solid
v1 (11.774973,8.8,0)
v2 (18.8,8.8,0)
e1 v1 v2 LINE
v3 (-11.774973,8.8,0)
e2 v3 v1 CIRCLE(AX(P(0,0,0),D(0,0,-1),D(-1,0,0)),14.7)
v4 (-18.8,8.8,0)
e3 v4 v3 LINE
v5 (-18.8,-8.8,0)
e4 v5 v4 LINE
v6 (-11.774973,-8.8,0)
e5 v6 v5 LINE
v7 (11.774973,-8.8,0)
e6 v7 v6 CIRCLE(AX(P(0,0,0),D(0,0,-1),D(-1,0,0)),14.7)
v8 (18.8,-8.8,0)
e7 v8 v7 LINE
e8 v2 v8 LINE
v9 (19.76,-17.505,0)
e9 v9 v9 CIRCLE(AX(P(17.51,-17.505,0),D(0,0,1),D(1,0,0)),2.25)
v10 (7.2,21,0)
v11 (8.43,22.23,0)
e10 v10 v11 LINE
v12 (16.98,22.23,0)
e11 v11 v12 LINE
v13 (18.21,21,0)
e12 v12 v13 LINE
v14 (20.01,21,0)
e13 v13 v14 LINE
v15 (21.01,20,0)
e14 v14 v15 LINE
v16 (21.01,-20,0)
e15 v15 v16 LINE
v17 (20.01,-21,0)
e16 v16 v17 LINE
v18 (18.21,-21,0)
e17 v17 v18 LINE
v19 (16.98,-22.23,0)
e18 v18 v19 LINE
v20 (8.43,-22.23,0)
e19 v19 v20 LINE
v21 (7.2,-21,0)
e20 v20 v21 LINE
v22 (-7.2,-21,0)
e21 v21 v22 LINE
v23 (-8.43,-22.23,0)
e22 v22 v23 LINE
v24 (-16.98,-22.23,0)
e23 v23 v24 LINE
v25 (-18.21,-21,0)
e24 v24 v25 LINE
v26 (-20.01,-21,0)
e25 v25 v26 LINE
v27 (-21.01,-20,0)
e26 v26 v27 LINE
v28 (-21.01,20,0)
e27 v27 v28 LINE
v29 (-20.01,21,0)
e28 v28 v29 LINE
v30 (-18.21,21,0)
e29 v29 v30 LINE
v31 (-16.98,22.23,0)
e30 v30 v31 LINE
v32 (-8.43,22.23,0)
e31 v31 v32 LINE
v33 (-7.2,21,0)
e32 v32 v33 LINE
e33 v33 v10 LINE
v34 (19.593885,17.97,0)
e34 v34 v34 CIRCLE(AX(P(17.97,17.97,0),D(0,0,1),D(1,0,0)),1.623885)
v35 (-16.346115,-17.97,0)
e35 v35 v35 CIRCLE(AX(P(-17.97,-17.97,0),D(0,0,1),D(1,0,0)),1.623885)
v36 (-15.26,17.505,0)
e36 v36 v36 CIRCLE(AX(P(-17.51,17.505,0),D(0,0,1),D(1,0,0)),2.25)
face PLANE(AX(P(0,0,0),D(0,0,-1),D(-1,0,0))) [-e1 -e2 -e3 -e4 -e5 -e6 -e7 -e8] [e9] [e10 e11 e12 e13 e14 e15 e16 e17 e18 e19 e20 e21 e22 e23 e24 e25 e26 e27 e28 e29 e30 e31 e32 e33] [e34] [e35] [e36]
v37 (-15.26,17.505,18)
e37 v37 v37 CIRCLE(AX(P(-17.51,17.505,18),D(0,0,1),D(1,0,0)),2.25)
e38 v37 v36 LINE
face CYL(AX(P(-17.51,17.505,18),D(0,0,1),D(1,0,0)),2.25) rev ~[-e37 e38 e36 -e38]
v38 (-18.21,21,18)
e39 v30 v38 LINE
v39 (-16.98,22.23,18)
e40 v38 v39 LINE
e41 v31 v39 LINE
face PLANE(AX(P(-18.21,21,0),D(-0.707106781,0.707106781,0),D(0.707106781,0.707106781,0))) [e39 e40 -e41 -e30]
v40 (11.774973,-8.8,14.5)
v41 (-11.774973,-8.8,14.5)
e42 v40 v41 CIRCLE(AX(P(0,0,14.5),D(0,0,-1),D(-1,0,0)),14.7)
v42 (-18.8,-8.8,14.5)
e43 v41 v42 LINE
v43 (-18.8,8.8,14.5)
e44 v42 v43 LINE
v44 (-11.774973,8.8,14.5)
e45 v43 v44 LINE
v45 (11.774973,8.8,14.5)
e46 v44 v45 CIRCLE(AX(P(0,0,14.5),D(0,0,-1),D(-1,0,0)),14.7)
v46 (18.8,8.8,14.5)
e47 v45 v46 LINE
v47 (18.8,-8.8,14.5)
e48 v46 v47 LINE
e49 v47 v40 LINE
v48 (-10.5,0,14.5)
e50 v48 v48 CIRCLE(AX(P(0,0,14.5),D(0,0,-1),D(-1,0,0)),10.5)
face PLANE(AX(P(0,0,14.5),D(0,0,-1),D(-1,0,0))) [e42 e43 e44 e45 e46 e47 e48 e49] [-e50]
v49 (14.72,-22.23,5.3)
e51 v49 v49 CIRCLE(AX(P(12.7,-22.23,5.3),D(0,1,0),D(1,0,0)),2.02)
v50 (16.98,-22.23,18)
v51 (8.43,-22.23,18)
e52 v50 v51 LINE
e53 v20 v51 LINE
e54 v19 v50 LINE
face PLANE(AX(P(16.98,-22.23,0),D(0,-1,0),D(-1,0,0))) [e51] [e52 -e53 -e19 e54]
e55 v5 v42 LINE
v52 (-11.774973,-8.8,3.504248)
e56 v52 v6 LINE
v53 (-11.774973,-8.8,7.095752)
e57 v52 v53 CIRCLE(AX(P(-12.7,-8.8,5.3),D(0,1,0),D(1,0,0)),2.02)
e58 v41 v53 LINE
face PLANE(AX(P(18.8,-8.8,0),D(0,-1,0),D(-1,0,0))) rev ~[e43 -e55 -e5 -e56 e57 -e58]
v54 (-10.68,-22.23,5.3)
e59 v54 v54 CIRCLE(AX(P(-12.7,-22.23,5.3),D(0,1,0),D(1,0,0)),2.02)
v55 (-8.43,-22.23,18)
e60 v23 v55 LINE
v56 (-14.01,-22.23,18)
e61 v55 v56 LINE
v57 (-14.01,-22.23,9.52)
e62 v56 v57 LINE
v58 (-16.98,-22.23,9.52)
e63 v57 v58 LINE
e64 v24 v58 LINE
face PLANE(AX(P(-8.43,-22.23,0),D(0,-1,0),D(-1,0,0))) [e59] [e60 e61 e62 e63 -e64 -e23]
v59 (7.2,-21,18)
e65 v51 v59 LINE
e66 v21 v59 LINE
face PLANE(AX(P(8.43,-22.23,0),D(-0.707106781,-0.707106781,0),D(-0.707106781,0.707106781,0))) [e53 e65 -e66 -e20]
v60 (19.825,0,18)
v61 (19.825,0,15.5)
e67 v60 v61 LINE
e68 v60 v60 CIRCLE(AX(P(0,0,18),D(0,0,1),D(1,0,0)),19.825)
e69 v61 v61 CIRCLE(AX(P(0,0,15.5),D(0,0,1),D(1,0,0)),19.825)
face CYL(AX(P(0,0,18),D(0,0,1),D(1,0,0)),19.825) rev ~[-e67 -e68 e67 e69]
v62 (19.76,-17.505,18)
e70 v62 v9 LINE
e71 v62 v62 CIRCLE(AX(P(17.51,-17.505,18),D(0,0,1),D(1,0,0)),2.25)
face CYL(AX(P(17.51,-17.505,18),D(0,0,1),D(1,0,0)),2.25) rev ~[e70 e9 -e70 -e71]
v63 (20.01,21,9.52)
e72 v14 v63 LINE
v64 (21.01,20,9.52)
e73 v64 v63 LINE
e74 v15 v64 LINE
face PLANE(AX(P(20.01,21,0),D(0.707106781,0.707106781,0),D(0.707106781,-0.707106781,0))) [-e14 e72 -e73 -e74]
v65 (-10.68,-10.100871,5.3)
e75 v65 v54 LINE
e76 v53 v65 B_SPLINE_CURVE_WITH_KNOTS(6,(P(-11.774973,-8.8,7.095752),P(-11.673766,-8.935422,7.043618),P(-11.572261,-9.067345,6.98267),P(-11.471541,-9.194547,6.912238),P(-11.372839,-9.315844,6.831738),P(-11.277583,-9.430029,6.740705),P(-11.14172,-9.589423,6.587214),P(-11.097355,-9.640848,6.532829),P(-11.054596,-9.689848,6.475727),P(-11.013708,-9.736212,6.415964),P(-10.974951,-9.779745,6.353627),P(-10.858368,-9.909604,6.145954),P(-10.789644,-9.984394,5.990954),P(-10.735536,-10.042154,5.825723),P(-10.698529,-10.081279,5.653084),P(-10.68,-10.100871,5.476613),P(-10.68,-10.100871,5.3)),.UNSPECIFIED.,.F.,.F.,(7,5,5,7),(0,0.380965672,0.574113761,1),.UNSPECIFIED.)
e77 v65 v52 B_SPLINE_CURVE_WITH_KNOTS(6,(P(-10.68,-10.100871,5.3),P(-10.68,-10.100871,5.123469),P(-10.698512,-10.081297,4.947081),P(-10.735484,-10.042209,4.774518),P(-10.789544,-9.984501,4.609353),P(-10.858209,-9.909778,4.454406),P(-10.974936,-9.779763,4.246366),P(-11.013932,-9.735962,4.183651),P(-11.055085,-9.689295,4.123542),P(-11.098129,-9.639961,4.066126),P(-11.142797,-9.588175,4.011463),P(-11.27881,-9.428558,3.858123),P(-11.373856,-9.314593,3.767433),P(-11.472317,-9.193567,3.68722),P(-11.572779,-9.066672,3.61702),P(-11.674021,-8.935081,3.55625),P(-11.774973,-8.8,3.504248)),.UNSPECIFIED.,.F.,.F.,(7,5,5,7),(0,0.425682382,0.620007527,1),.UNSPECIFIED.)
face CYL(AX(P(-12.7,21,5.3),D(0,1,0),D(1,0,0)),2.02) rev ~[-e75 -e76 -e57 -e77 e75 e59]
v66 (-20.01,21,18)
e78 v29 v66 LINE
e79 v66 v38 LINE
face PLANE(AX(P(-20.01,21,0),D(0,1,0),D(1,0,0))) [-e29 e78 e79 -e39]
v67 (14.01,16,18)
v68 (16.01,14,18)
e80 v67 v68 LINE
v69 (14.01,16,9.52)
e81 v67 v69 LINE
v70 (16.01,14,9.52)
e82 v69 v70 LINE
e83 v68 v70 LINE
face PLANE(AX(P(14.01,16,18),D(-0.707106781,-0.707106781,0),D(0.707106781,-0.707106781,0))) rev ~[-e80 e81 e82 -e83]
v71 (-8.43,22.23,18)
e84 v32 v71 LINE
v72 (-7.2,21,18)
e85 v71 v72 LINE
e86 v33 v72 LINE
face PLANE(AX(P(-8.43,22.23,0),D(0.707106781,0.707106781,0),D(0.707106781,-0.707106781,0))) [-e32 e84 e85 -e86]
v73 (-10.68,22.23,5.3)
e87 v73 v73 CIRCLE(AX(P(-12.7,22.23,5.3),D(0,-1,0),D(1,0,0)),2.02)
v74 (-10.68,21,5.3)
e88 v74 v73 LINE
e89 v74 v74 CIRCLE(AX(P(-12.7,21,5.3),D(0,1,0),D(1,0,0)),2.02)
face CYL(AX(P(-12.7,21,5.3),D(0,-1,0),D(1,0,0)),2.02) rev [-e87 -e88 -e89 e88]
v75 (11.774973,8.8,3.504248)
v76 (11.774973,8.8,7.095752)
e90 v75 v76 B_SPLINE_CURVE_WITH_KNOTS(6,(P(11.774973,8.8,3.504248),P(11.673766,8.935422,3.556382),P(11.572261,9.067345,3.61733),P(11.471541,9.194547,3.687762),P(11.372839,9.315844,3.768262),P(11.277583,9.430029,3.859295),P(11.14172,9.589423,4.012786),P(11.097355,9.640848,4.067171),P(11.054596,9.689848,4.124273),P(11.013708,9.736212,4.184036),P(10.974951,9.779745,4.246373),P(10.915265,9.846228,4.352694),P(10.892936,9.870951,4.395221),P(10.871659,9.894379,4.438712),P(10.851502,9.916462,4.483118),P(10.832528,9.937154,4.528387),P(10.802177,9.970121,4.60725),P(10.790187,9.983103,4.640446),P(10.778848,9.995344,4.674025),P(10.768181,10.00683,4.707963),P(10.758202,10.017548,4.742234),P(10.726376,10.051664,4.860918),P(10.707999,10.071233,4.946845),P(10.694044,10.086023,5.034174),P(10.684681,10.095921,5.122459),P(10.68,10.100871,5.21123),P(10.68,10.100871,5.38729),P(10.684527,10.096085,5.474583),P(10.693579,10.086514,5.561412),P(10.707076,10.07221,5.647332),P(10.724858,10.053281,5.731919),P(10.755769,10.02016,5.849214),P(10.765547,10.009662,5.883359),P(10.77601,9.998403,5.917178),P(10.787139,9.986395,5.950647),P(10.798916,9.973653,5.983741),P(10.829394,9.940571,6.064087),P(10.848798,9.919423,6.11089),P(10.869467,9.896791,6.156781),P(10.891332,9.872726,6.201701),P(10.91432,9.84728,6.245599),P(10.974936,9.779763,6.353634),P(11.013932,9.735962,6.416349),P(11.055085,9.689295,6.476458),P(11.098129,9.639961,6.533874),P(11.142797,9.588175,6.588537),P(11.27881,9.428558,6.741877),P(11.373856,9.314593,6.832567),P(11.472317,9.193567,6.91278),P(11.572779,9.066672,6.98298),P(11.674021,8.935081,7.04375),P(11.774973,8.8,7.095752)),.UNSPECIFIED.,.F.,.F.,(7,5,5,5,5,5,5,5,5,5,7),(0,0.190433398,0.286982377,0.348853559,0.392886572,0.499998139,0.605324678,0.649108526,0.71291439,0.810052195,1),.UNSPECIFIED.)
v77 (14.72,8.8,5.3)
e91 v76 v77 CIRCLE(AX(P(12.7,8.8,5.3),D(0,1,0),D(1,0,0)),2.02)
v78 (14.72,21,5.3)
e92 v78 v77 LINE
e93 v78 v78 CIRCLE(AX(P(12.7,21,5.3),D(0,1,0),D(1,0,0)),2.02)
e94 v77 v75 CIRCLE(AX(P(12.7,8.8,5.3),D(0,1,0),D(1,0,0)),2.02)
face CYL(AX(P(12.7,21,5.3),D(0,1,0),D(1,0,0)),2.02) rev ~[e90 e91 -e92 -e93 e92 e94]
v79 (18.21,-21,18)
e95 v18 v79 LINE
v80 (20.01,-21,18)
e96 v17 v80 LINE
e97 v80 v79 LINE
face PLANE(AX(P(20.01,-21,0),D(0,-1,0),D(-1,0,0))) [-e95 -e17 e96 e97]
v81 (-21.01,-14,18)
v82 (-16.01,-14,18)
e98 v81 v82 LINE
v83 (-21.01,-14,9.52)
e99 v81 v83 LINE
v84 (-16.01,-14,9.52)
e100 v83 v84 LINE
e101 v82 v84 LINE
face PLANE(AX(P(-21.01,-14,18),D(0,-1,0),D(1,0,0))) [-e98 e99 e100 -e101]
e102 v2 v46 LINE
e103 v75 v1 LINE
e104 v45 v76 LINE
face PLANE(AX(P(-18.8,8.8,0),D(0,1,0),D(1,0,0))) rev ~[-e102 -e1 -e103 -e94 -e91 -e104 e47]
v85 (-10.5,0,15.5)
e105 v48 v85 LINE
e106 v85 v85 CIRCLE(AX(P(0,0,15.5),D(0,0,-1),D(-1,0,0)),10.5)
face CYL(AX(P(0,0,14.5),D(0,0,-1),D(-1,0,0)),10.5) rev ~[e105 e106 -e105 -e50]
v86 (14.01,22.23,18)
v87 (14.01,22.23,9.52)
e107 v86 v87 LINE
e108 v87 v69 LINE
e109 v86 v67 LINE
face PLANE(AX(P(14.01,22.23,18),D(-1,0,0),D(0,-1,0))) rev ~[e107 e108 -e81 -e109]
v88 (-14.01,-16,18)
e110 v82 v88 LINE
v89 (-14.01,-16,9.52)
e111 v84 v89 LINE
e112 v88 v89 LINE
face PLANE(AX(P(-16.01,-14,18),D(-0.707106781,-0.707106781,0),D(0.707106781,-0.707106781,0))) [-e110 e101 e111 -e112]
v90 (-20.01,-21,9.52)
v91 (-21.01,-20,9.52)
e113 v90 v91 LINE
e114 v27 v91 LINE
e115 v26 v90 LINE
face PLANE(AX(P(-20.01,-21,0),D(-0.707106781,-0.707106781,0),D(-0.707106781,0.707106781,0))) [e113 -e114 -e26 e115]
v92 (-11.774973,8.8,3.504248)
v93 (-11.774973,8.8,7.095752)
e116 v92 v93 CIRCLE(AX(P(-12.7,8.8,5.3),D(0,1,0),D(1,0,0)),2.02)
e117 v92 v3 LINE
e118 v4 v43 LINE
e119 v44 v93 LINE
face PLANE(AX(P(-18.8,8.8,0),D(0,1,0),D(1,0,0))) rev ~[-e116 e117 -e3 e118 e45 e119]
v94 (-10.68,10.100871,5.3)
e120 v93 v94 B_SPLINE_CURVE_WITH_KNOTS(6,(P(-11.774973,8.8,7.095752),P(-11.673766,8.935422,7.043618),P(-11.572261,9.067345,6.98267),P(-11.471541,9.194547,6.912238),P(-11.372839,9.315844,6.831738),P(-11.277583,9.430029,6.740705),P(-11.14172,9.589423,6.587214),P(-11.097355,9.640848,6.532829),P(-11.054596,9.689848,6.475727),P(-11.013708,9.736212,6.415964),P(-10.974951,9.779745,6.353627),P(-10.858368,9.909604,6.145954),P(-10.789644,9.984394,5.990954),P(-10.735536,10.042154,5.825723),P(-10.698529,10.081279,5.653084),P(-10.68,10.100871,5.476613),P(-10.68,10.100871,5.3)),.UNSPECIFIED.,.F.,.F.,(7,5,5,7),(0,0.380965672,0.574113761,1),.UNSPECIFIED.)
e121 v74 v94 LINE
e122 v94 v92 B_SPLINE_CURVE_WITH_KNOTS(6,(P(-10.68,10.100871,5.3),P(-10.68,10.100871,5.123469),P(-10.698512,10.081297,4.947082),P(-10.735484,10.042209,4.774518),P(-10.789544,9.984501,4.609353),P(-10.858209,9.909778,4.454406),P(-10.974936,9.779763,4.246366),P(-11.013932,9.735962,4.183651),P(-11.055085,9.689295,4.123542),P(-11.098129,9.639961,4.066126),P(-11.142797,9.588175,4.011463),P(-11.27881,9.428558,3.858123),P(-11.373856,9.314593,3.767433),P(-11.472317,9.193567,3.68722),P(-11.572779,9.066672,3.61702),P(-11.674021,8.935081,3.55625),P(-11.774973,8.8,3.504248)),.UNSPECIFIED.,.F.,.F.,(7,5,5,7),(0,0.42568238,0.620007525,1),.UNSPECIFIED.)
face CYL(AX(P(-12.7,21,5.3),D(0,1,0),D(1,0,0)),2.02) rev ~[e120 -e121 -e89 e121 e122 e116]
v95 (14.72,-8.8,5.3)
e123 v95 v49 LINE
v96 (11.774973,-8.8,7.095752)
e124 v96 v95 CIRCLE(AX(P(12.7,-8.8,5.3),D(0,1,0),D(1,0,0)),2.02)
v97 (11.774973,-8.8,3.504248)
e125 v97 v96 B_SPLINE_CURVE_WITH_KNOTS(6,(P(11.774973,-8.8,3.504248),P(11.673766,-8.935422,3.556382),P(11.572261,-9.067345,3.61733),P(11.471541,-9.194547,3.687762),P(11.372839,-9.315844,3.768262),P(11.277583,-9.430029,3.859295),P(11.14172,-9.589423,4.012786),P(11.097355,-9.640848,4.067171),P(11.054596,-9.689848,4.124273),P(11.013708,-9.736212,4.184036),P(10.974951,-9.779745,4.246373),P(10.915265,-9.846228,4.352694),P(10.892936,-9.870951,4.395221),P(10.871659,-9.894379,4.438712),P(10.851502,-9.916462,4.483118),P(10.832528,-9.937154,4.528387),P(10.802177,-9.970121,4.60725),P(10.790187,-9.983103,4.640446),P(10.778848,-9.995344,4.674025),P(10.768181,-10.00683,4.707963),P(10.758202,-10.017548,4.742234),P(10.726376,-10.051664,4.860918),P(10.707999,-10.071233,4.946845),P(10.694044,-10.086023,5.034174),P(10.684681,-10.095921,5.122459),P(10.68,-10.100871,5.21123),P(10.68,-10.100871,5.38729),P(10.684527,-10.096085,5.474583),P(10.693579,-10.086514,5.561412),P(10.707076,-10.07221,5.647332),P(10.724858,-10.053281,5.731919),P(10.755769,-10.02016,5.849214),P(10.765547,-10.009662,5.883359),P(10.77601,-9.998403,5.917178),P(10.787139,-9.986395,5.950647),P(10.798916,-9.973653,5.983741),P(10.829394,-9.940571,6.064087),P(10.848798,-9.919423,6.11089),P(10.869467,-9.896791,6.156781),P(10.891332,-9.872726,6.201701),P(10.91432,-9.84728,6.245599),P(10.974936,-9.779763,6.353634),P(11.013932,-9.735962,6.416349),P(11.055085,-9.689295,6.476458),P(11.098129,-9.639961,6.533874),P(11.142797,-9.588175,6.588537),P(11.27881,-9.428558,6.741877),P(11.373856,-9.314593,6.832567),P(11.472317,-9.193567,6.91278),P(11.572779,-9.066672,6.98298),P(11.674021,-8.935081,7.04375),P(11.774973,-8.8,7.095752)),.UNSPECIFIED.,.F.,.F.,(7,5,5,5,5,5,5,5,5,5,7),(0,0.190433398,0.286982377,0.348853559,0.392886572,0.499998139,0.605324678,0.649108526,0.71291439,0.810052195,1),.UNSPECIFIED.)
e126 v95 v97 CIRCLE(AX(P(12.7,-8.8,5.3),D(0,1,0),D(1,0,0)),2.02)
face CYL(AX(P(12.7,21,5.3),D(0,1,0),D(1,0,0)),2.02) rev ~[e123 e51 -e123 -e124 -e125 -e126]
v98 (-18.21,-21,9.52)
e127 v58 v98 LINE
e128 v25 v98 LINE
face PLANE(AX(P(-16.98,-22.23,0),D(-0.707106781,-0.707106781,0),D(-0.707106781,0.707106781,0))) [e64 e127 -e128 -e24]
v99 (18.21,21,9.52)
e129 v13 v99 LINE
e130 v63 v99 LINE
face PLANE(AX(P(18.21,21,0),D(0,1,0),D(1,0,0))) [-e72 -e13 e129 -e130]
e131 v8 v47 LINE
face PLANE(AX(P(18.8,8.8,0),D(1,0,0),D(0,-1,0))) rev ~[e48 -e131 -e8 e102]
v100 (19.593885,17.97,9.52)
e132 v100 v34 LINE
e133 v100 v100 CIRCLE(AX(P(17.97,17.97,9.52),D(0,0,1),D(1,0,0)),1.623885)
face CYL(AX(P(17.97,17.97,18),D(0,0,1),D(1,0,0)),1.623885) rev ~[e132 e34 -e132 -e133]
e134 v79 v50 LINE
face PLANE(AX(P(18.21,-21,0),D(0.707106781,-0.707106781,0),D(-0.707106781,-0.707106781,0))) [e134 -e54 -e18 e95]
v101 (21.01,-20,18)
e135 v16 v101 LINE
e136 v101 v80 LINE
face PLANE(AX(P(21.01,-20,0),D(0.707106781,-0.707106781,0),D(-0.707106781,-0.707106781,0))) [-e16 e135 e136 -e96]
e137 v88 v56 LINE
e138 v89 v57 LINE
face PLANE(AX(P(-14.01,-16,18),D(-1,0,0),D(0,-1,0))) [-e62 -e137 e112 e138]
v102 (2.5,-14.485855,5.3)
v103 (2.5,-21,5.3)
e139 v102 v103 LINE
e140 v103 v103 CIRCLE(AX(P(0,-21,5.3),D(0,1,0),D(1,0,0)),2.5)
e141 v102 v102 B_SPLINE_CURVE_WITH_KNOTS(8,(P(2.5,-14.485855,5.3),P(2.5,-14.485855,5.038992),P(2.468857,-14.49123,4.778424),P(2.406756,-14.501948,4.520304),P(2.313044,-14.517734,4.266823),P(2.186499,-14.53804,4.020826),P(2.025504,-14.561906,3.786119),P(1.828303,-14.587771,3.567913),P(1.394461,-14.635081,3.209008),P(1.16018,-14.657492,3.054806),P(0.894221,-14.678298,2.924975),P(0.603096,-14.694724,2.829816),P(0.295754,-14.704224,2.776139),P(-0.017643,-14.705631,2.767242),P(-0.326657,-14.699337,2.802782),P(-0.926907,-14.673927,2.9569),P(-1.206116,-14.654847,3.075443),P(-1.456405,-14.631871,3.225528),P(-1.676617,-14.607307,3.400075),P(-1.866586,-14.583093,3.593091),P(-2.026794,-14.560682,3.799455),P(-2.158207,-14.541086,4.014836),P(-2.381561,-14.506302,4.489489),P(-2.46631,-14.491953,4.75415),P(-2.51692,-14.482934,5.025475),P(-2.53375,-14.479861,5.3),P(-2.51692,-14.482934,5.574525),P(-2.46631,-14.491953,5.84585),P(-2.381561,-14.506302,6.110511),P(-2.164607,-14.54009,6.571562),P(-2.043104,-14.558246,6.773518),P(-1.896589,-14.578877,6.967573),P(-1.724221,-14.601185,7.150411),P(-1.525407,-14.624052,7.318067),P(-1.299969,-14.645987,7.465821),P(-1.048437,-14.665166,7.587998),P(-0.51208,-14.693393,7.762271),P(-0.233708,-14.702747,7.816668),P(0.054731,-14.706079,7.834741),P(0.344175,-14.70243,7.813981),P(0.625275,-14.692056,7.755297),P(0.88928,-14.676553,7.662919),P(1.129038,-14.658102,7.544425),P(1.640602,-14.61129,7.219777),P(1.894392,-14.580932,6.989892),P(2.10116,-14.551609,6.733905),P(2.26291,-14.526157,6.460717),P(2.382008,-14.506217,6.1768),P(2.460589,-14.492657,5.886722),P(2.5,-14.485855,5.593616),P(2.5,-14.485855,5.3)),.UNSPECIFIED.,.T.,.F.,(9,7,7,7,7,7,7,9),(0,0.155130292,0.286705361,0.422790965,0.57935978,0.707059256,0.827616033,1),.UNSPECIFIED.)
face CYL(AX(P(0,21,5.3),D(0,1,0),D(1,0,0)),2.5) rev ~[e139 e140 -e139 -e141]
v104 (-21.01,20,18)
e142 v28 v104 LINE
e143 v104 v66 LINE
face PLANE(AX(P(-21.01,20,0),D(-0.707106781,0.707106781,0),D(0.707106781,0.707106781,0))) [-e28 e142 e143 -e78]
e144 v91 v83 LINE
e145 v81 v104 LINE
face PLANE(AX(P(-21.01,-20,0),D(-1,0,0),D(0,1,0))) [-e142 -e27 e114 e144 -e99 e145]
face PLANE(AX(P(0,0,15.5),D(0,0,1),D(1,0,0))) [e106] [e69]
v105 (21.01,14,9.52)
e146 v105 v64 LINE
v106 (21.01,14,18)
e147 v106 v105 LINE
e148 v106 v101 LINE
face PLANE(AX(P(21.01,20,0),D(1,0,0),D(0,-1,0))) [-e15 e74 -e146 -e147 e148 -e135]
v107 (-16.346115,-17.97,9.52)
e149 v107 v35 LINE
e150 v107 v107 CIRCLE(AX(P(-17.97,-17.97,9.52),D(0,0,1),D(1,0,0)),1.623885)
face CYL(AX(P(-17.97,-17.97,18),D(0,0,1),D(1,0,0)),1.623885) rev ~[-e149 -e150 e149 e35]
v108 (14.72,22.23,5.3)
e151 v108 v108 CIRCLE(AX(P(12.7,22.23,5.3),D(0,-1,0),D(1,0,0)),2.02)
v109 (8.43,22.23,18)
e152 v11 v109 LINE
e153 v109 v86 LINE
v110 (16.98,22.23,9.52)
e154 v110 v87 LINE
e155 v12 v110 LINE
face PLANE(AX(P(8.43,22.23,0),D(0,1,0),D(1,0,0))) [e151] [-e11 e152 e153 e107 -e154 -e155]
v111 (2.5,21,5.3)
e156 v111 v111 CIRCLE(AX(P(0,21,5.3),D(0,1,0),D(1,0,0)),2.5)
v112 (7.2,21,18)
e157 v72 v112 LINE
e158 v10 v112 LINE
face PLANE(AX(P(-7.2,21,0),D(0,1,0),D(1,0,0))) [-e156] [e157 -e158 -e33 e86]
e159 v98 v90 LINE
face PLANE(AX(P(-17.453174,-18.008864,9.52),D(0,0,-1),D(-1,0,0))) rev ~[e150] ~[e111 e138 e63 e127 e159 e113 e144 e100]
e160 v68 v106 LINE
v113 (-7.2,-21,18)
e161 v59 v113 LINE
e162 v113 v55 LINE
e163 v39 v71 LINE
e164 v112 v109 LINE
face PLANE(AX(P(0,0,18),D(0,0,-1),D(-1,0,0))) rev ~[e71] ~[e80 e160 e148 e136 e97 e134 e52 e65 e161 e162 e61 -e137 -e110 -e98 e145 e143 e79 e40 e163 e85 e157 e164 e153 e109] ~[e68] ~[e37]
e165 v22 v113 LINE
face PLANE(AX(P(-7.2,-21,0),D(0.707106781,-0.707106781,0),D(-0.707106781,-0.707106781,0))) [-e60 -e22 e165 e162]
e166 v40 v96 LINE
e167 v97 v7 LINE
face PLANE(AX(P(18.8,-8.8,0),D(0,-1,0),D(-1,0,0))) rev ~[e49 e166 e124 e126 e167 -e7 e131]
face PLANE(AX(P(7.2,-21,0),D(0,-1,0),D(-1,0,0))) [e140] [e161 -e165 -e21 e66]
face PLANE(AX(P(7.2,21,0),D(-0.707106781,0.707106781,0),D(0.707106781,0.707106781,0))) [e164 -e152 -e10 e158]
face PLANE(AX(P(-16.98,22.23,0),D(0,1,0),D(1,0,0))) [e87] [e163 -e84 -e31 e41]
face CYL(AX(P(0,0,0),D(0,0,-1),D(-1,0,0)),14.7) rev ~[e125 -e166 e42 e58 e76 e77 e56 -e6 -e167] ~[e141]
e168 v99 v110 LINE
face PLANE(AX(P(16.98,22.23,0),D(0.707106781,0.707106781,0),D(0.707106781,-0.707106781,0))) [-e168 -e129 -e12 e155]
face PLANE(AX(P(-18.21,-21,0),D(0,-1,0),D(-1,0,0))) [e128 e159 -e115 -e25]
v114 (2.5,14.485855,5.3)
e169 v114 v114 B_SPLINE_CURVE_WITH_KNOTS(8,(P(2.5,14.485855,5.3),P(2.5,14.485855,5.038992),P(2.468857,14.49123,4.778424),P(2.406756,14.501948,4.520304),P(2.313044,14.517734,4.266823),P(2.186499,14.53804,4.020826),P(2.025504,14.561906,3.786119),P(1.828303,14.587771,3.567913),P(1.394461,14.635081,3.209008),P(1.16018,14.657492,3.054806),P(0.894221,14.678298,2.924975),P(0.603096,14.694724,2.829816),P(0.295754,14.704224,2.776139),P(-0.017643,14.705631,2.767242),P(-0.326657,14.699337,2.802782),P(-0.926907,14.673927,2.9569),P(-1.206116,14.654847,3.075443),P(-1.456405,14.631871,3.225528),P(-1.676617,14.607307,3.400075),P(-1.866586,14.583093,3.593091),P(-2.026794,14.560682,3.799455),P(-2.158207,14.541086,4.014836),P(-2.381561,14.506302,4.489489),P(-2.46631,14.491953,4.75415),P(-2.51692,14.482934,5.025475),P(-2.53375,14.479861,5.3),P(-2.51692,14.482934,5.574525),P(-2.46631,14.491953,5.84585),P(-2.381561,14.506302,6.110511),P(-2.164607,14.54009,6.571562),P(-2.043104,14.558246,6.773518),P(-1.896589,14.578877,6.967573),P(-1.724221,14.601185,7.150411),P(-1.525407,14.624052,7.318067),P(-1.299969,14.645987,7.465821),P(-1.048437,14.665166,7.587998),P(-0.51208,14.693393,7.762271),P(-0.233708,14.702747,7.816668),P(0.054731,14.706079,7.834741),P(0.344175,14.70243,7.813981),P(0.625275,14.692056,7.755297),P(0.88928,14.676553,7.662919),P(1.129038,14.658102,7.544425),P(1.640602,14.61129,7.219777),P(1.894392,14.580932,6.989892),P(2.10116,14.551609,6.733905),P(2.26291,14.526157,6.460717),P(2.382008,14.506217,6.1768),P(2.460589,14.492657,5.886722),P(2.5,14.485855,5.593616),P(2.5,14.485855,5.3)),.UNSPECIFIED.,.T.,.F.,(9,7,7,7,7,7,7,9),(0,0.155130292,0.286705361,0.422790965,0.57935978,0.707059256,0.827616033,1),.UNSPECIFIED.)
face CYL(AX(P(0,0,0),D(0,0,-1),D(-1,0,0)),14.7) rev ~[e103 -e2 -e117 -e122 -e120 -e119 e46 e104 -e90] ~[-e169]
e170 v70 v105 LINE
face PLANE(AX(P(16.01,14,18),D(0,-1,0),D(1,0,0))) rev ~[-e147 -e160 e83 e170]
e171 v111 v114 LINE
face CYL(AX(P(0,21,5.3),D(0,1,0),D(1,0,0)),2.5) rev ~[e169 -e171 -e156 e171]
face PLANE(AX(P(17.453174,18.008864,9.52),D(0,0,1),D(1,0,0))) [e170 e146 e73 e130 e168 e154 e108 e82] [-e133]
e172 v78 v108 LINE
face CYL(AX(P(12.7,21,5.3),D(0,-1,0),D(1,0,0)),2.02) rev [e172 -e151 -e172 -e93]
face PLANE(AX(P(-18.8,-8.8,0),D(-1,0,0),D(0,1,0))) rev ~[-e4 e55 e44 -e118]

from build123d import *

# Parameters (mm, degrees)
BOSS_EXTRUDE2_DEPTH     = 18
SKETCH2_R               = 19.825
CUT_EXTRUDE1_DEPTH      = 2.5
SKETCH3_R               = 14.7
CUT_EXTRUDE2_DEPTH      = 14.5
CUT_EXTRUDE3_DEPTH      = 14.5
SKETCH5_R               = 10.5
CUT_EXTRUDE4_DEPTH      = 14.5
SKETCH7_R               = 2.5
SKETCH7_R_2             = 2.02
CUT_EXTRUDE6_DEPTH      = 30
CUT_EXTRUDE6_DEPTH_BACK = 60
SKETCH9_R               = 1.623885446
SKETCH9_R_2             = 2.25
CUT_EXTRUDE7_DEPTH      = 30
CUT_EXTRUDE8_DEPTH      = 8.48


with BuildPart() as part:
    # Sketch1 → Boss-Extrude2 (new body)
    with BuildSketch(Plane.XY):
        Polygon((-7.2, 21), (7.2, 21), (8.43, 22.23), (16.98, 22.23), (18.21, 21), (20.01, 21), (21.01, 20), (21.01, -20), (20.01, -21), (18.21, -21), (16.98, -22.23), (8.43, -22.23), (7.2, -21), (-7.2, -21), (-8.43, -22.23), (-16.98, -22.23), (-18.21, -21), (-20.01, -21), (-21.01, -20), (-21.01, 20), (-20.01, 21), (-18.21, 21), (-16.98, 22.23), (-8.43, 22.23), align=None)
    extrude(amount=BOSS_EXTRUDE2_DEPTH)

    # Sketch2 → Cut-Extrude1 (cut)
    with BuildSketch(Plane.XY.offset(18)):
        Circle(SKETCH2_R)
    extrude(amount=-CUT_EXTRUDE1_DEPTH, mode=Mode.SUBTRACT)

    # Sketch3 → Cut-Extrude2 (cut)
    with BuildSketch(Plane(origin=(0, 0, 0), x_dir=(-1, 0, 0), z_dir=(0, 0, -1))):
        Circle(SKETCH3_R)
    extrude(amount=-CUT_EXTRUDE2_DEPTH, mode=Mode.SUBTRACT)

    # Sketch4 → Cut-Extrude3 (cut)
    with BuildSketch(Plane(origin=(0, 0, 0), x_dir=(-1, 0, 0), z_dir=(0, 0, -1))):
        Polygon((18.8, 0), (18.8, 8.8), (-18.8, 8.8), (-18.8, -8.8), (18.8, -8.8), align=None)
    extrude(amount=-CUT_EXTRUDE3_DEPTH, mode=Mode.SUBTRACT)

    # Sketch5 → Cut-Extrude4 (cut)
    with BuildSketch(Plane(origin=(0, 0, 14.5), x_dir=(-1, 0, 0), z_dir=(0, 0, -1))):
        Circle(SKETCH5_R)
    extrude(amount=-CUT_EXTRUDE4_DEPTH, mode=Mode.SUBTRACT)

    # Sketch7 → Cut-Extrude6 (cut, two sides)
    with BuildSketch(Plane(origin=(0, 21, 0), x_dir=(1, 0, 0), z_dir=(0, 1, 0))) as cut_extrude6_sk:
        with Locations((0, -5.3)):
            Circle(SKETCH7_R)
        with Locations((12.7, -5.3)):
            Circle(SKETCH7_R_2)
        with Locations((-12.7, -5.3)):
            Circle(SKETCH7_R_2)
    extrude(amount=CUT_EXTRUDE6_DEPTH, mode=Mode.SUBTRACT)
    extrude(cut_extrude6_sk.sketch, amount=-CUT_EXTRUDE6_DEPTH_BACK, mode=Mode.SUBTRACT)

    # Sketch9 → Cut-Extrude7 (cut)
    with BuildSketch(Plane.XY.offset(18)):
        with Locations((17.97, 17.97)):
            Circle(SKETCH9_R)
        with Locations((-17.51, 17.505)):
            Circle(SKETCH9_R_2)
        with Locations((17.51, -17.505)):
            Circle(SKETCH9_R_2)
        with Locations((-17.97, -17.97)):
            Circle(SKETCH9_R)
    extrude(amount=-CUT_EXTRUDE7_DEPTH, mode=Mode.SUBTRACT)

    # Sketch10 → Cut-Extrude8 (cut)
    with BuildSketch(Plane.XY.offset(18)):
        Polygon((14.01, 22.23), (14.01, 16), (16.01, 14), (21.01, 14), (21.01, 20), (20.01, 21), (18.21, 21), (16.98, 22.23), align=None)
        Polygon((-21.01, -14), (-16.01, -14), (-14.01, -16), (-14.01, -22.23), (-16.98, -22.23), (-18.21, -21), (-20.01, -21), (-21.01, -20), align=None)
    extrude(amount=-CUT_EXTRUDE8_DEPTH, mode=Mode.SUBTRACT)


solid = part.part
